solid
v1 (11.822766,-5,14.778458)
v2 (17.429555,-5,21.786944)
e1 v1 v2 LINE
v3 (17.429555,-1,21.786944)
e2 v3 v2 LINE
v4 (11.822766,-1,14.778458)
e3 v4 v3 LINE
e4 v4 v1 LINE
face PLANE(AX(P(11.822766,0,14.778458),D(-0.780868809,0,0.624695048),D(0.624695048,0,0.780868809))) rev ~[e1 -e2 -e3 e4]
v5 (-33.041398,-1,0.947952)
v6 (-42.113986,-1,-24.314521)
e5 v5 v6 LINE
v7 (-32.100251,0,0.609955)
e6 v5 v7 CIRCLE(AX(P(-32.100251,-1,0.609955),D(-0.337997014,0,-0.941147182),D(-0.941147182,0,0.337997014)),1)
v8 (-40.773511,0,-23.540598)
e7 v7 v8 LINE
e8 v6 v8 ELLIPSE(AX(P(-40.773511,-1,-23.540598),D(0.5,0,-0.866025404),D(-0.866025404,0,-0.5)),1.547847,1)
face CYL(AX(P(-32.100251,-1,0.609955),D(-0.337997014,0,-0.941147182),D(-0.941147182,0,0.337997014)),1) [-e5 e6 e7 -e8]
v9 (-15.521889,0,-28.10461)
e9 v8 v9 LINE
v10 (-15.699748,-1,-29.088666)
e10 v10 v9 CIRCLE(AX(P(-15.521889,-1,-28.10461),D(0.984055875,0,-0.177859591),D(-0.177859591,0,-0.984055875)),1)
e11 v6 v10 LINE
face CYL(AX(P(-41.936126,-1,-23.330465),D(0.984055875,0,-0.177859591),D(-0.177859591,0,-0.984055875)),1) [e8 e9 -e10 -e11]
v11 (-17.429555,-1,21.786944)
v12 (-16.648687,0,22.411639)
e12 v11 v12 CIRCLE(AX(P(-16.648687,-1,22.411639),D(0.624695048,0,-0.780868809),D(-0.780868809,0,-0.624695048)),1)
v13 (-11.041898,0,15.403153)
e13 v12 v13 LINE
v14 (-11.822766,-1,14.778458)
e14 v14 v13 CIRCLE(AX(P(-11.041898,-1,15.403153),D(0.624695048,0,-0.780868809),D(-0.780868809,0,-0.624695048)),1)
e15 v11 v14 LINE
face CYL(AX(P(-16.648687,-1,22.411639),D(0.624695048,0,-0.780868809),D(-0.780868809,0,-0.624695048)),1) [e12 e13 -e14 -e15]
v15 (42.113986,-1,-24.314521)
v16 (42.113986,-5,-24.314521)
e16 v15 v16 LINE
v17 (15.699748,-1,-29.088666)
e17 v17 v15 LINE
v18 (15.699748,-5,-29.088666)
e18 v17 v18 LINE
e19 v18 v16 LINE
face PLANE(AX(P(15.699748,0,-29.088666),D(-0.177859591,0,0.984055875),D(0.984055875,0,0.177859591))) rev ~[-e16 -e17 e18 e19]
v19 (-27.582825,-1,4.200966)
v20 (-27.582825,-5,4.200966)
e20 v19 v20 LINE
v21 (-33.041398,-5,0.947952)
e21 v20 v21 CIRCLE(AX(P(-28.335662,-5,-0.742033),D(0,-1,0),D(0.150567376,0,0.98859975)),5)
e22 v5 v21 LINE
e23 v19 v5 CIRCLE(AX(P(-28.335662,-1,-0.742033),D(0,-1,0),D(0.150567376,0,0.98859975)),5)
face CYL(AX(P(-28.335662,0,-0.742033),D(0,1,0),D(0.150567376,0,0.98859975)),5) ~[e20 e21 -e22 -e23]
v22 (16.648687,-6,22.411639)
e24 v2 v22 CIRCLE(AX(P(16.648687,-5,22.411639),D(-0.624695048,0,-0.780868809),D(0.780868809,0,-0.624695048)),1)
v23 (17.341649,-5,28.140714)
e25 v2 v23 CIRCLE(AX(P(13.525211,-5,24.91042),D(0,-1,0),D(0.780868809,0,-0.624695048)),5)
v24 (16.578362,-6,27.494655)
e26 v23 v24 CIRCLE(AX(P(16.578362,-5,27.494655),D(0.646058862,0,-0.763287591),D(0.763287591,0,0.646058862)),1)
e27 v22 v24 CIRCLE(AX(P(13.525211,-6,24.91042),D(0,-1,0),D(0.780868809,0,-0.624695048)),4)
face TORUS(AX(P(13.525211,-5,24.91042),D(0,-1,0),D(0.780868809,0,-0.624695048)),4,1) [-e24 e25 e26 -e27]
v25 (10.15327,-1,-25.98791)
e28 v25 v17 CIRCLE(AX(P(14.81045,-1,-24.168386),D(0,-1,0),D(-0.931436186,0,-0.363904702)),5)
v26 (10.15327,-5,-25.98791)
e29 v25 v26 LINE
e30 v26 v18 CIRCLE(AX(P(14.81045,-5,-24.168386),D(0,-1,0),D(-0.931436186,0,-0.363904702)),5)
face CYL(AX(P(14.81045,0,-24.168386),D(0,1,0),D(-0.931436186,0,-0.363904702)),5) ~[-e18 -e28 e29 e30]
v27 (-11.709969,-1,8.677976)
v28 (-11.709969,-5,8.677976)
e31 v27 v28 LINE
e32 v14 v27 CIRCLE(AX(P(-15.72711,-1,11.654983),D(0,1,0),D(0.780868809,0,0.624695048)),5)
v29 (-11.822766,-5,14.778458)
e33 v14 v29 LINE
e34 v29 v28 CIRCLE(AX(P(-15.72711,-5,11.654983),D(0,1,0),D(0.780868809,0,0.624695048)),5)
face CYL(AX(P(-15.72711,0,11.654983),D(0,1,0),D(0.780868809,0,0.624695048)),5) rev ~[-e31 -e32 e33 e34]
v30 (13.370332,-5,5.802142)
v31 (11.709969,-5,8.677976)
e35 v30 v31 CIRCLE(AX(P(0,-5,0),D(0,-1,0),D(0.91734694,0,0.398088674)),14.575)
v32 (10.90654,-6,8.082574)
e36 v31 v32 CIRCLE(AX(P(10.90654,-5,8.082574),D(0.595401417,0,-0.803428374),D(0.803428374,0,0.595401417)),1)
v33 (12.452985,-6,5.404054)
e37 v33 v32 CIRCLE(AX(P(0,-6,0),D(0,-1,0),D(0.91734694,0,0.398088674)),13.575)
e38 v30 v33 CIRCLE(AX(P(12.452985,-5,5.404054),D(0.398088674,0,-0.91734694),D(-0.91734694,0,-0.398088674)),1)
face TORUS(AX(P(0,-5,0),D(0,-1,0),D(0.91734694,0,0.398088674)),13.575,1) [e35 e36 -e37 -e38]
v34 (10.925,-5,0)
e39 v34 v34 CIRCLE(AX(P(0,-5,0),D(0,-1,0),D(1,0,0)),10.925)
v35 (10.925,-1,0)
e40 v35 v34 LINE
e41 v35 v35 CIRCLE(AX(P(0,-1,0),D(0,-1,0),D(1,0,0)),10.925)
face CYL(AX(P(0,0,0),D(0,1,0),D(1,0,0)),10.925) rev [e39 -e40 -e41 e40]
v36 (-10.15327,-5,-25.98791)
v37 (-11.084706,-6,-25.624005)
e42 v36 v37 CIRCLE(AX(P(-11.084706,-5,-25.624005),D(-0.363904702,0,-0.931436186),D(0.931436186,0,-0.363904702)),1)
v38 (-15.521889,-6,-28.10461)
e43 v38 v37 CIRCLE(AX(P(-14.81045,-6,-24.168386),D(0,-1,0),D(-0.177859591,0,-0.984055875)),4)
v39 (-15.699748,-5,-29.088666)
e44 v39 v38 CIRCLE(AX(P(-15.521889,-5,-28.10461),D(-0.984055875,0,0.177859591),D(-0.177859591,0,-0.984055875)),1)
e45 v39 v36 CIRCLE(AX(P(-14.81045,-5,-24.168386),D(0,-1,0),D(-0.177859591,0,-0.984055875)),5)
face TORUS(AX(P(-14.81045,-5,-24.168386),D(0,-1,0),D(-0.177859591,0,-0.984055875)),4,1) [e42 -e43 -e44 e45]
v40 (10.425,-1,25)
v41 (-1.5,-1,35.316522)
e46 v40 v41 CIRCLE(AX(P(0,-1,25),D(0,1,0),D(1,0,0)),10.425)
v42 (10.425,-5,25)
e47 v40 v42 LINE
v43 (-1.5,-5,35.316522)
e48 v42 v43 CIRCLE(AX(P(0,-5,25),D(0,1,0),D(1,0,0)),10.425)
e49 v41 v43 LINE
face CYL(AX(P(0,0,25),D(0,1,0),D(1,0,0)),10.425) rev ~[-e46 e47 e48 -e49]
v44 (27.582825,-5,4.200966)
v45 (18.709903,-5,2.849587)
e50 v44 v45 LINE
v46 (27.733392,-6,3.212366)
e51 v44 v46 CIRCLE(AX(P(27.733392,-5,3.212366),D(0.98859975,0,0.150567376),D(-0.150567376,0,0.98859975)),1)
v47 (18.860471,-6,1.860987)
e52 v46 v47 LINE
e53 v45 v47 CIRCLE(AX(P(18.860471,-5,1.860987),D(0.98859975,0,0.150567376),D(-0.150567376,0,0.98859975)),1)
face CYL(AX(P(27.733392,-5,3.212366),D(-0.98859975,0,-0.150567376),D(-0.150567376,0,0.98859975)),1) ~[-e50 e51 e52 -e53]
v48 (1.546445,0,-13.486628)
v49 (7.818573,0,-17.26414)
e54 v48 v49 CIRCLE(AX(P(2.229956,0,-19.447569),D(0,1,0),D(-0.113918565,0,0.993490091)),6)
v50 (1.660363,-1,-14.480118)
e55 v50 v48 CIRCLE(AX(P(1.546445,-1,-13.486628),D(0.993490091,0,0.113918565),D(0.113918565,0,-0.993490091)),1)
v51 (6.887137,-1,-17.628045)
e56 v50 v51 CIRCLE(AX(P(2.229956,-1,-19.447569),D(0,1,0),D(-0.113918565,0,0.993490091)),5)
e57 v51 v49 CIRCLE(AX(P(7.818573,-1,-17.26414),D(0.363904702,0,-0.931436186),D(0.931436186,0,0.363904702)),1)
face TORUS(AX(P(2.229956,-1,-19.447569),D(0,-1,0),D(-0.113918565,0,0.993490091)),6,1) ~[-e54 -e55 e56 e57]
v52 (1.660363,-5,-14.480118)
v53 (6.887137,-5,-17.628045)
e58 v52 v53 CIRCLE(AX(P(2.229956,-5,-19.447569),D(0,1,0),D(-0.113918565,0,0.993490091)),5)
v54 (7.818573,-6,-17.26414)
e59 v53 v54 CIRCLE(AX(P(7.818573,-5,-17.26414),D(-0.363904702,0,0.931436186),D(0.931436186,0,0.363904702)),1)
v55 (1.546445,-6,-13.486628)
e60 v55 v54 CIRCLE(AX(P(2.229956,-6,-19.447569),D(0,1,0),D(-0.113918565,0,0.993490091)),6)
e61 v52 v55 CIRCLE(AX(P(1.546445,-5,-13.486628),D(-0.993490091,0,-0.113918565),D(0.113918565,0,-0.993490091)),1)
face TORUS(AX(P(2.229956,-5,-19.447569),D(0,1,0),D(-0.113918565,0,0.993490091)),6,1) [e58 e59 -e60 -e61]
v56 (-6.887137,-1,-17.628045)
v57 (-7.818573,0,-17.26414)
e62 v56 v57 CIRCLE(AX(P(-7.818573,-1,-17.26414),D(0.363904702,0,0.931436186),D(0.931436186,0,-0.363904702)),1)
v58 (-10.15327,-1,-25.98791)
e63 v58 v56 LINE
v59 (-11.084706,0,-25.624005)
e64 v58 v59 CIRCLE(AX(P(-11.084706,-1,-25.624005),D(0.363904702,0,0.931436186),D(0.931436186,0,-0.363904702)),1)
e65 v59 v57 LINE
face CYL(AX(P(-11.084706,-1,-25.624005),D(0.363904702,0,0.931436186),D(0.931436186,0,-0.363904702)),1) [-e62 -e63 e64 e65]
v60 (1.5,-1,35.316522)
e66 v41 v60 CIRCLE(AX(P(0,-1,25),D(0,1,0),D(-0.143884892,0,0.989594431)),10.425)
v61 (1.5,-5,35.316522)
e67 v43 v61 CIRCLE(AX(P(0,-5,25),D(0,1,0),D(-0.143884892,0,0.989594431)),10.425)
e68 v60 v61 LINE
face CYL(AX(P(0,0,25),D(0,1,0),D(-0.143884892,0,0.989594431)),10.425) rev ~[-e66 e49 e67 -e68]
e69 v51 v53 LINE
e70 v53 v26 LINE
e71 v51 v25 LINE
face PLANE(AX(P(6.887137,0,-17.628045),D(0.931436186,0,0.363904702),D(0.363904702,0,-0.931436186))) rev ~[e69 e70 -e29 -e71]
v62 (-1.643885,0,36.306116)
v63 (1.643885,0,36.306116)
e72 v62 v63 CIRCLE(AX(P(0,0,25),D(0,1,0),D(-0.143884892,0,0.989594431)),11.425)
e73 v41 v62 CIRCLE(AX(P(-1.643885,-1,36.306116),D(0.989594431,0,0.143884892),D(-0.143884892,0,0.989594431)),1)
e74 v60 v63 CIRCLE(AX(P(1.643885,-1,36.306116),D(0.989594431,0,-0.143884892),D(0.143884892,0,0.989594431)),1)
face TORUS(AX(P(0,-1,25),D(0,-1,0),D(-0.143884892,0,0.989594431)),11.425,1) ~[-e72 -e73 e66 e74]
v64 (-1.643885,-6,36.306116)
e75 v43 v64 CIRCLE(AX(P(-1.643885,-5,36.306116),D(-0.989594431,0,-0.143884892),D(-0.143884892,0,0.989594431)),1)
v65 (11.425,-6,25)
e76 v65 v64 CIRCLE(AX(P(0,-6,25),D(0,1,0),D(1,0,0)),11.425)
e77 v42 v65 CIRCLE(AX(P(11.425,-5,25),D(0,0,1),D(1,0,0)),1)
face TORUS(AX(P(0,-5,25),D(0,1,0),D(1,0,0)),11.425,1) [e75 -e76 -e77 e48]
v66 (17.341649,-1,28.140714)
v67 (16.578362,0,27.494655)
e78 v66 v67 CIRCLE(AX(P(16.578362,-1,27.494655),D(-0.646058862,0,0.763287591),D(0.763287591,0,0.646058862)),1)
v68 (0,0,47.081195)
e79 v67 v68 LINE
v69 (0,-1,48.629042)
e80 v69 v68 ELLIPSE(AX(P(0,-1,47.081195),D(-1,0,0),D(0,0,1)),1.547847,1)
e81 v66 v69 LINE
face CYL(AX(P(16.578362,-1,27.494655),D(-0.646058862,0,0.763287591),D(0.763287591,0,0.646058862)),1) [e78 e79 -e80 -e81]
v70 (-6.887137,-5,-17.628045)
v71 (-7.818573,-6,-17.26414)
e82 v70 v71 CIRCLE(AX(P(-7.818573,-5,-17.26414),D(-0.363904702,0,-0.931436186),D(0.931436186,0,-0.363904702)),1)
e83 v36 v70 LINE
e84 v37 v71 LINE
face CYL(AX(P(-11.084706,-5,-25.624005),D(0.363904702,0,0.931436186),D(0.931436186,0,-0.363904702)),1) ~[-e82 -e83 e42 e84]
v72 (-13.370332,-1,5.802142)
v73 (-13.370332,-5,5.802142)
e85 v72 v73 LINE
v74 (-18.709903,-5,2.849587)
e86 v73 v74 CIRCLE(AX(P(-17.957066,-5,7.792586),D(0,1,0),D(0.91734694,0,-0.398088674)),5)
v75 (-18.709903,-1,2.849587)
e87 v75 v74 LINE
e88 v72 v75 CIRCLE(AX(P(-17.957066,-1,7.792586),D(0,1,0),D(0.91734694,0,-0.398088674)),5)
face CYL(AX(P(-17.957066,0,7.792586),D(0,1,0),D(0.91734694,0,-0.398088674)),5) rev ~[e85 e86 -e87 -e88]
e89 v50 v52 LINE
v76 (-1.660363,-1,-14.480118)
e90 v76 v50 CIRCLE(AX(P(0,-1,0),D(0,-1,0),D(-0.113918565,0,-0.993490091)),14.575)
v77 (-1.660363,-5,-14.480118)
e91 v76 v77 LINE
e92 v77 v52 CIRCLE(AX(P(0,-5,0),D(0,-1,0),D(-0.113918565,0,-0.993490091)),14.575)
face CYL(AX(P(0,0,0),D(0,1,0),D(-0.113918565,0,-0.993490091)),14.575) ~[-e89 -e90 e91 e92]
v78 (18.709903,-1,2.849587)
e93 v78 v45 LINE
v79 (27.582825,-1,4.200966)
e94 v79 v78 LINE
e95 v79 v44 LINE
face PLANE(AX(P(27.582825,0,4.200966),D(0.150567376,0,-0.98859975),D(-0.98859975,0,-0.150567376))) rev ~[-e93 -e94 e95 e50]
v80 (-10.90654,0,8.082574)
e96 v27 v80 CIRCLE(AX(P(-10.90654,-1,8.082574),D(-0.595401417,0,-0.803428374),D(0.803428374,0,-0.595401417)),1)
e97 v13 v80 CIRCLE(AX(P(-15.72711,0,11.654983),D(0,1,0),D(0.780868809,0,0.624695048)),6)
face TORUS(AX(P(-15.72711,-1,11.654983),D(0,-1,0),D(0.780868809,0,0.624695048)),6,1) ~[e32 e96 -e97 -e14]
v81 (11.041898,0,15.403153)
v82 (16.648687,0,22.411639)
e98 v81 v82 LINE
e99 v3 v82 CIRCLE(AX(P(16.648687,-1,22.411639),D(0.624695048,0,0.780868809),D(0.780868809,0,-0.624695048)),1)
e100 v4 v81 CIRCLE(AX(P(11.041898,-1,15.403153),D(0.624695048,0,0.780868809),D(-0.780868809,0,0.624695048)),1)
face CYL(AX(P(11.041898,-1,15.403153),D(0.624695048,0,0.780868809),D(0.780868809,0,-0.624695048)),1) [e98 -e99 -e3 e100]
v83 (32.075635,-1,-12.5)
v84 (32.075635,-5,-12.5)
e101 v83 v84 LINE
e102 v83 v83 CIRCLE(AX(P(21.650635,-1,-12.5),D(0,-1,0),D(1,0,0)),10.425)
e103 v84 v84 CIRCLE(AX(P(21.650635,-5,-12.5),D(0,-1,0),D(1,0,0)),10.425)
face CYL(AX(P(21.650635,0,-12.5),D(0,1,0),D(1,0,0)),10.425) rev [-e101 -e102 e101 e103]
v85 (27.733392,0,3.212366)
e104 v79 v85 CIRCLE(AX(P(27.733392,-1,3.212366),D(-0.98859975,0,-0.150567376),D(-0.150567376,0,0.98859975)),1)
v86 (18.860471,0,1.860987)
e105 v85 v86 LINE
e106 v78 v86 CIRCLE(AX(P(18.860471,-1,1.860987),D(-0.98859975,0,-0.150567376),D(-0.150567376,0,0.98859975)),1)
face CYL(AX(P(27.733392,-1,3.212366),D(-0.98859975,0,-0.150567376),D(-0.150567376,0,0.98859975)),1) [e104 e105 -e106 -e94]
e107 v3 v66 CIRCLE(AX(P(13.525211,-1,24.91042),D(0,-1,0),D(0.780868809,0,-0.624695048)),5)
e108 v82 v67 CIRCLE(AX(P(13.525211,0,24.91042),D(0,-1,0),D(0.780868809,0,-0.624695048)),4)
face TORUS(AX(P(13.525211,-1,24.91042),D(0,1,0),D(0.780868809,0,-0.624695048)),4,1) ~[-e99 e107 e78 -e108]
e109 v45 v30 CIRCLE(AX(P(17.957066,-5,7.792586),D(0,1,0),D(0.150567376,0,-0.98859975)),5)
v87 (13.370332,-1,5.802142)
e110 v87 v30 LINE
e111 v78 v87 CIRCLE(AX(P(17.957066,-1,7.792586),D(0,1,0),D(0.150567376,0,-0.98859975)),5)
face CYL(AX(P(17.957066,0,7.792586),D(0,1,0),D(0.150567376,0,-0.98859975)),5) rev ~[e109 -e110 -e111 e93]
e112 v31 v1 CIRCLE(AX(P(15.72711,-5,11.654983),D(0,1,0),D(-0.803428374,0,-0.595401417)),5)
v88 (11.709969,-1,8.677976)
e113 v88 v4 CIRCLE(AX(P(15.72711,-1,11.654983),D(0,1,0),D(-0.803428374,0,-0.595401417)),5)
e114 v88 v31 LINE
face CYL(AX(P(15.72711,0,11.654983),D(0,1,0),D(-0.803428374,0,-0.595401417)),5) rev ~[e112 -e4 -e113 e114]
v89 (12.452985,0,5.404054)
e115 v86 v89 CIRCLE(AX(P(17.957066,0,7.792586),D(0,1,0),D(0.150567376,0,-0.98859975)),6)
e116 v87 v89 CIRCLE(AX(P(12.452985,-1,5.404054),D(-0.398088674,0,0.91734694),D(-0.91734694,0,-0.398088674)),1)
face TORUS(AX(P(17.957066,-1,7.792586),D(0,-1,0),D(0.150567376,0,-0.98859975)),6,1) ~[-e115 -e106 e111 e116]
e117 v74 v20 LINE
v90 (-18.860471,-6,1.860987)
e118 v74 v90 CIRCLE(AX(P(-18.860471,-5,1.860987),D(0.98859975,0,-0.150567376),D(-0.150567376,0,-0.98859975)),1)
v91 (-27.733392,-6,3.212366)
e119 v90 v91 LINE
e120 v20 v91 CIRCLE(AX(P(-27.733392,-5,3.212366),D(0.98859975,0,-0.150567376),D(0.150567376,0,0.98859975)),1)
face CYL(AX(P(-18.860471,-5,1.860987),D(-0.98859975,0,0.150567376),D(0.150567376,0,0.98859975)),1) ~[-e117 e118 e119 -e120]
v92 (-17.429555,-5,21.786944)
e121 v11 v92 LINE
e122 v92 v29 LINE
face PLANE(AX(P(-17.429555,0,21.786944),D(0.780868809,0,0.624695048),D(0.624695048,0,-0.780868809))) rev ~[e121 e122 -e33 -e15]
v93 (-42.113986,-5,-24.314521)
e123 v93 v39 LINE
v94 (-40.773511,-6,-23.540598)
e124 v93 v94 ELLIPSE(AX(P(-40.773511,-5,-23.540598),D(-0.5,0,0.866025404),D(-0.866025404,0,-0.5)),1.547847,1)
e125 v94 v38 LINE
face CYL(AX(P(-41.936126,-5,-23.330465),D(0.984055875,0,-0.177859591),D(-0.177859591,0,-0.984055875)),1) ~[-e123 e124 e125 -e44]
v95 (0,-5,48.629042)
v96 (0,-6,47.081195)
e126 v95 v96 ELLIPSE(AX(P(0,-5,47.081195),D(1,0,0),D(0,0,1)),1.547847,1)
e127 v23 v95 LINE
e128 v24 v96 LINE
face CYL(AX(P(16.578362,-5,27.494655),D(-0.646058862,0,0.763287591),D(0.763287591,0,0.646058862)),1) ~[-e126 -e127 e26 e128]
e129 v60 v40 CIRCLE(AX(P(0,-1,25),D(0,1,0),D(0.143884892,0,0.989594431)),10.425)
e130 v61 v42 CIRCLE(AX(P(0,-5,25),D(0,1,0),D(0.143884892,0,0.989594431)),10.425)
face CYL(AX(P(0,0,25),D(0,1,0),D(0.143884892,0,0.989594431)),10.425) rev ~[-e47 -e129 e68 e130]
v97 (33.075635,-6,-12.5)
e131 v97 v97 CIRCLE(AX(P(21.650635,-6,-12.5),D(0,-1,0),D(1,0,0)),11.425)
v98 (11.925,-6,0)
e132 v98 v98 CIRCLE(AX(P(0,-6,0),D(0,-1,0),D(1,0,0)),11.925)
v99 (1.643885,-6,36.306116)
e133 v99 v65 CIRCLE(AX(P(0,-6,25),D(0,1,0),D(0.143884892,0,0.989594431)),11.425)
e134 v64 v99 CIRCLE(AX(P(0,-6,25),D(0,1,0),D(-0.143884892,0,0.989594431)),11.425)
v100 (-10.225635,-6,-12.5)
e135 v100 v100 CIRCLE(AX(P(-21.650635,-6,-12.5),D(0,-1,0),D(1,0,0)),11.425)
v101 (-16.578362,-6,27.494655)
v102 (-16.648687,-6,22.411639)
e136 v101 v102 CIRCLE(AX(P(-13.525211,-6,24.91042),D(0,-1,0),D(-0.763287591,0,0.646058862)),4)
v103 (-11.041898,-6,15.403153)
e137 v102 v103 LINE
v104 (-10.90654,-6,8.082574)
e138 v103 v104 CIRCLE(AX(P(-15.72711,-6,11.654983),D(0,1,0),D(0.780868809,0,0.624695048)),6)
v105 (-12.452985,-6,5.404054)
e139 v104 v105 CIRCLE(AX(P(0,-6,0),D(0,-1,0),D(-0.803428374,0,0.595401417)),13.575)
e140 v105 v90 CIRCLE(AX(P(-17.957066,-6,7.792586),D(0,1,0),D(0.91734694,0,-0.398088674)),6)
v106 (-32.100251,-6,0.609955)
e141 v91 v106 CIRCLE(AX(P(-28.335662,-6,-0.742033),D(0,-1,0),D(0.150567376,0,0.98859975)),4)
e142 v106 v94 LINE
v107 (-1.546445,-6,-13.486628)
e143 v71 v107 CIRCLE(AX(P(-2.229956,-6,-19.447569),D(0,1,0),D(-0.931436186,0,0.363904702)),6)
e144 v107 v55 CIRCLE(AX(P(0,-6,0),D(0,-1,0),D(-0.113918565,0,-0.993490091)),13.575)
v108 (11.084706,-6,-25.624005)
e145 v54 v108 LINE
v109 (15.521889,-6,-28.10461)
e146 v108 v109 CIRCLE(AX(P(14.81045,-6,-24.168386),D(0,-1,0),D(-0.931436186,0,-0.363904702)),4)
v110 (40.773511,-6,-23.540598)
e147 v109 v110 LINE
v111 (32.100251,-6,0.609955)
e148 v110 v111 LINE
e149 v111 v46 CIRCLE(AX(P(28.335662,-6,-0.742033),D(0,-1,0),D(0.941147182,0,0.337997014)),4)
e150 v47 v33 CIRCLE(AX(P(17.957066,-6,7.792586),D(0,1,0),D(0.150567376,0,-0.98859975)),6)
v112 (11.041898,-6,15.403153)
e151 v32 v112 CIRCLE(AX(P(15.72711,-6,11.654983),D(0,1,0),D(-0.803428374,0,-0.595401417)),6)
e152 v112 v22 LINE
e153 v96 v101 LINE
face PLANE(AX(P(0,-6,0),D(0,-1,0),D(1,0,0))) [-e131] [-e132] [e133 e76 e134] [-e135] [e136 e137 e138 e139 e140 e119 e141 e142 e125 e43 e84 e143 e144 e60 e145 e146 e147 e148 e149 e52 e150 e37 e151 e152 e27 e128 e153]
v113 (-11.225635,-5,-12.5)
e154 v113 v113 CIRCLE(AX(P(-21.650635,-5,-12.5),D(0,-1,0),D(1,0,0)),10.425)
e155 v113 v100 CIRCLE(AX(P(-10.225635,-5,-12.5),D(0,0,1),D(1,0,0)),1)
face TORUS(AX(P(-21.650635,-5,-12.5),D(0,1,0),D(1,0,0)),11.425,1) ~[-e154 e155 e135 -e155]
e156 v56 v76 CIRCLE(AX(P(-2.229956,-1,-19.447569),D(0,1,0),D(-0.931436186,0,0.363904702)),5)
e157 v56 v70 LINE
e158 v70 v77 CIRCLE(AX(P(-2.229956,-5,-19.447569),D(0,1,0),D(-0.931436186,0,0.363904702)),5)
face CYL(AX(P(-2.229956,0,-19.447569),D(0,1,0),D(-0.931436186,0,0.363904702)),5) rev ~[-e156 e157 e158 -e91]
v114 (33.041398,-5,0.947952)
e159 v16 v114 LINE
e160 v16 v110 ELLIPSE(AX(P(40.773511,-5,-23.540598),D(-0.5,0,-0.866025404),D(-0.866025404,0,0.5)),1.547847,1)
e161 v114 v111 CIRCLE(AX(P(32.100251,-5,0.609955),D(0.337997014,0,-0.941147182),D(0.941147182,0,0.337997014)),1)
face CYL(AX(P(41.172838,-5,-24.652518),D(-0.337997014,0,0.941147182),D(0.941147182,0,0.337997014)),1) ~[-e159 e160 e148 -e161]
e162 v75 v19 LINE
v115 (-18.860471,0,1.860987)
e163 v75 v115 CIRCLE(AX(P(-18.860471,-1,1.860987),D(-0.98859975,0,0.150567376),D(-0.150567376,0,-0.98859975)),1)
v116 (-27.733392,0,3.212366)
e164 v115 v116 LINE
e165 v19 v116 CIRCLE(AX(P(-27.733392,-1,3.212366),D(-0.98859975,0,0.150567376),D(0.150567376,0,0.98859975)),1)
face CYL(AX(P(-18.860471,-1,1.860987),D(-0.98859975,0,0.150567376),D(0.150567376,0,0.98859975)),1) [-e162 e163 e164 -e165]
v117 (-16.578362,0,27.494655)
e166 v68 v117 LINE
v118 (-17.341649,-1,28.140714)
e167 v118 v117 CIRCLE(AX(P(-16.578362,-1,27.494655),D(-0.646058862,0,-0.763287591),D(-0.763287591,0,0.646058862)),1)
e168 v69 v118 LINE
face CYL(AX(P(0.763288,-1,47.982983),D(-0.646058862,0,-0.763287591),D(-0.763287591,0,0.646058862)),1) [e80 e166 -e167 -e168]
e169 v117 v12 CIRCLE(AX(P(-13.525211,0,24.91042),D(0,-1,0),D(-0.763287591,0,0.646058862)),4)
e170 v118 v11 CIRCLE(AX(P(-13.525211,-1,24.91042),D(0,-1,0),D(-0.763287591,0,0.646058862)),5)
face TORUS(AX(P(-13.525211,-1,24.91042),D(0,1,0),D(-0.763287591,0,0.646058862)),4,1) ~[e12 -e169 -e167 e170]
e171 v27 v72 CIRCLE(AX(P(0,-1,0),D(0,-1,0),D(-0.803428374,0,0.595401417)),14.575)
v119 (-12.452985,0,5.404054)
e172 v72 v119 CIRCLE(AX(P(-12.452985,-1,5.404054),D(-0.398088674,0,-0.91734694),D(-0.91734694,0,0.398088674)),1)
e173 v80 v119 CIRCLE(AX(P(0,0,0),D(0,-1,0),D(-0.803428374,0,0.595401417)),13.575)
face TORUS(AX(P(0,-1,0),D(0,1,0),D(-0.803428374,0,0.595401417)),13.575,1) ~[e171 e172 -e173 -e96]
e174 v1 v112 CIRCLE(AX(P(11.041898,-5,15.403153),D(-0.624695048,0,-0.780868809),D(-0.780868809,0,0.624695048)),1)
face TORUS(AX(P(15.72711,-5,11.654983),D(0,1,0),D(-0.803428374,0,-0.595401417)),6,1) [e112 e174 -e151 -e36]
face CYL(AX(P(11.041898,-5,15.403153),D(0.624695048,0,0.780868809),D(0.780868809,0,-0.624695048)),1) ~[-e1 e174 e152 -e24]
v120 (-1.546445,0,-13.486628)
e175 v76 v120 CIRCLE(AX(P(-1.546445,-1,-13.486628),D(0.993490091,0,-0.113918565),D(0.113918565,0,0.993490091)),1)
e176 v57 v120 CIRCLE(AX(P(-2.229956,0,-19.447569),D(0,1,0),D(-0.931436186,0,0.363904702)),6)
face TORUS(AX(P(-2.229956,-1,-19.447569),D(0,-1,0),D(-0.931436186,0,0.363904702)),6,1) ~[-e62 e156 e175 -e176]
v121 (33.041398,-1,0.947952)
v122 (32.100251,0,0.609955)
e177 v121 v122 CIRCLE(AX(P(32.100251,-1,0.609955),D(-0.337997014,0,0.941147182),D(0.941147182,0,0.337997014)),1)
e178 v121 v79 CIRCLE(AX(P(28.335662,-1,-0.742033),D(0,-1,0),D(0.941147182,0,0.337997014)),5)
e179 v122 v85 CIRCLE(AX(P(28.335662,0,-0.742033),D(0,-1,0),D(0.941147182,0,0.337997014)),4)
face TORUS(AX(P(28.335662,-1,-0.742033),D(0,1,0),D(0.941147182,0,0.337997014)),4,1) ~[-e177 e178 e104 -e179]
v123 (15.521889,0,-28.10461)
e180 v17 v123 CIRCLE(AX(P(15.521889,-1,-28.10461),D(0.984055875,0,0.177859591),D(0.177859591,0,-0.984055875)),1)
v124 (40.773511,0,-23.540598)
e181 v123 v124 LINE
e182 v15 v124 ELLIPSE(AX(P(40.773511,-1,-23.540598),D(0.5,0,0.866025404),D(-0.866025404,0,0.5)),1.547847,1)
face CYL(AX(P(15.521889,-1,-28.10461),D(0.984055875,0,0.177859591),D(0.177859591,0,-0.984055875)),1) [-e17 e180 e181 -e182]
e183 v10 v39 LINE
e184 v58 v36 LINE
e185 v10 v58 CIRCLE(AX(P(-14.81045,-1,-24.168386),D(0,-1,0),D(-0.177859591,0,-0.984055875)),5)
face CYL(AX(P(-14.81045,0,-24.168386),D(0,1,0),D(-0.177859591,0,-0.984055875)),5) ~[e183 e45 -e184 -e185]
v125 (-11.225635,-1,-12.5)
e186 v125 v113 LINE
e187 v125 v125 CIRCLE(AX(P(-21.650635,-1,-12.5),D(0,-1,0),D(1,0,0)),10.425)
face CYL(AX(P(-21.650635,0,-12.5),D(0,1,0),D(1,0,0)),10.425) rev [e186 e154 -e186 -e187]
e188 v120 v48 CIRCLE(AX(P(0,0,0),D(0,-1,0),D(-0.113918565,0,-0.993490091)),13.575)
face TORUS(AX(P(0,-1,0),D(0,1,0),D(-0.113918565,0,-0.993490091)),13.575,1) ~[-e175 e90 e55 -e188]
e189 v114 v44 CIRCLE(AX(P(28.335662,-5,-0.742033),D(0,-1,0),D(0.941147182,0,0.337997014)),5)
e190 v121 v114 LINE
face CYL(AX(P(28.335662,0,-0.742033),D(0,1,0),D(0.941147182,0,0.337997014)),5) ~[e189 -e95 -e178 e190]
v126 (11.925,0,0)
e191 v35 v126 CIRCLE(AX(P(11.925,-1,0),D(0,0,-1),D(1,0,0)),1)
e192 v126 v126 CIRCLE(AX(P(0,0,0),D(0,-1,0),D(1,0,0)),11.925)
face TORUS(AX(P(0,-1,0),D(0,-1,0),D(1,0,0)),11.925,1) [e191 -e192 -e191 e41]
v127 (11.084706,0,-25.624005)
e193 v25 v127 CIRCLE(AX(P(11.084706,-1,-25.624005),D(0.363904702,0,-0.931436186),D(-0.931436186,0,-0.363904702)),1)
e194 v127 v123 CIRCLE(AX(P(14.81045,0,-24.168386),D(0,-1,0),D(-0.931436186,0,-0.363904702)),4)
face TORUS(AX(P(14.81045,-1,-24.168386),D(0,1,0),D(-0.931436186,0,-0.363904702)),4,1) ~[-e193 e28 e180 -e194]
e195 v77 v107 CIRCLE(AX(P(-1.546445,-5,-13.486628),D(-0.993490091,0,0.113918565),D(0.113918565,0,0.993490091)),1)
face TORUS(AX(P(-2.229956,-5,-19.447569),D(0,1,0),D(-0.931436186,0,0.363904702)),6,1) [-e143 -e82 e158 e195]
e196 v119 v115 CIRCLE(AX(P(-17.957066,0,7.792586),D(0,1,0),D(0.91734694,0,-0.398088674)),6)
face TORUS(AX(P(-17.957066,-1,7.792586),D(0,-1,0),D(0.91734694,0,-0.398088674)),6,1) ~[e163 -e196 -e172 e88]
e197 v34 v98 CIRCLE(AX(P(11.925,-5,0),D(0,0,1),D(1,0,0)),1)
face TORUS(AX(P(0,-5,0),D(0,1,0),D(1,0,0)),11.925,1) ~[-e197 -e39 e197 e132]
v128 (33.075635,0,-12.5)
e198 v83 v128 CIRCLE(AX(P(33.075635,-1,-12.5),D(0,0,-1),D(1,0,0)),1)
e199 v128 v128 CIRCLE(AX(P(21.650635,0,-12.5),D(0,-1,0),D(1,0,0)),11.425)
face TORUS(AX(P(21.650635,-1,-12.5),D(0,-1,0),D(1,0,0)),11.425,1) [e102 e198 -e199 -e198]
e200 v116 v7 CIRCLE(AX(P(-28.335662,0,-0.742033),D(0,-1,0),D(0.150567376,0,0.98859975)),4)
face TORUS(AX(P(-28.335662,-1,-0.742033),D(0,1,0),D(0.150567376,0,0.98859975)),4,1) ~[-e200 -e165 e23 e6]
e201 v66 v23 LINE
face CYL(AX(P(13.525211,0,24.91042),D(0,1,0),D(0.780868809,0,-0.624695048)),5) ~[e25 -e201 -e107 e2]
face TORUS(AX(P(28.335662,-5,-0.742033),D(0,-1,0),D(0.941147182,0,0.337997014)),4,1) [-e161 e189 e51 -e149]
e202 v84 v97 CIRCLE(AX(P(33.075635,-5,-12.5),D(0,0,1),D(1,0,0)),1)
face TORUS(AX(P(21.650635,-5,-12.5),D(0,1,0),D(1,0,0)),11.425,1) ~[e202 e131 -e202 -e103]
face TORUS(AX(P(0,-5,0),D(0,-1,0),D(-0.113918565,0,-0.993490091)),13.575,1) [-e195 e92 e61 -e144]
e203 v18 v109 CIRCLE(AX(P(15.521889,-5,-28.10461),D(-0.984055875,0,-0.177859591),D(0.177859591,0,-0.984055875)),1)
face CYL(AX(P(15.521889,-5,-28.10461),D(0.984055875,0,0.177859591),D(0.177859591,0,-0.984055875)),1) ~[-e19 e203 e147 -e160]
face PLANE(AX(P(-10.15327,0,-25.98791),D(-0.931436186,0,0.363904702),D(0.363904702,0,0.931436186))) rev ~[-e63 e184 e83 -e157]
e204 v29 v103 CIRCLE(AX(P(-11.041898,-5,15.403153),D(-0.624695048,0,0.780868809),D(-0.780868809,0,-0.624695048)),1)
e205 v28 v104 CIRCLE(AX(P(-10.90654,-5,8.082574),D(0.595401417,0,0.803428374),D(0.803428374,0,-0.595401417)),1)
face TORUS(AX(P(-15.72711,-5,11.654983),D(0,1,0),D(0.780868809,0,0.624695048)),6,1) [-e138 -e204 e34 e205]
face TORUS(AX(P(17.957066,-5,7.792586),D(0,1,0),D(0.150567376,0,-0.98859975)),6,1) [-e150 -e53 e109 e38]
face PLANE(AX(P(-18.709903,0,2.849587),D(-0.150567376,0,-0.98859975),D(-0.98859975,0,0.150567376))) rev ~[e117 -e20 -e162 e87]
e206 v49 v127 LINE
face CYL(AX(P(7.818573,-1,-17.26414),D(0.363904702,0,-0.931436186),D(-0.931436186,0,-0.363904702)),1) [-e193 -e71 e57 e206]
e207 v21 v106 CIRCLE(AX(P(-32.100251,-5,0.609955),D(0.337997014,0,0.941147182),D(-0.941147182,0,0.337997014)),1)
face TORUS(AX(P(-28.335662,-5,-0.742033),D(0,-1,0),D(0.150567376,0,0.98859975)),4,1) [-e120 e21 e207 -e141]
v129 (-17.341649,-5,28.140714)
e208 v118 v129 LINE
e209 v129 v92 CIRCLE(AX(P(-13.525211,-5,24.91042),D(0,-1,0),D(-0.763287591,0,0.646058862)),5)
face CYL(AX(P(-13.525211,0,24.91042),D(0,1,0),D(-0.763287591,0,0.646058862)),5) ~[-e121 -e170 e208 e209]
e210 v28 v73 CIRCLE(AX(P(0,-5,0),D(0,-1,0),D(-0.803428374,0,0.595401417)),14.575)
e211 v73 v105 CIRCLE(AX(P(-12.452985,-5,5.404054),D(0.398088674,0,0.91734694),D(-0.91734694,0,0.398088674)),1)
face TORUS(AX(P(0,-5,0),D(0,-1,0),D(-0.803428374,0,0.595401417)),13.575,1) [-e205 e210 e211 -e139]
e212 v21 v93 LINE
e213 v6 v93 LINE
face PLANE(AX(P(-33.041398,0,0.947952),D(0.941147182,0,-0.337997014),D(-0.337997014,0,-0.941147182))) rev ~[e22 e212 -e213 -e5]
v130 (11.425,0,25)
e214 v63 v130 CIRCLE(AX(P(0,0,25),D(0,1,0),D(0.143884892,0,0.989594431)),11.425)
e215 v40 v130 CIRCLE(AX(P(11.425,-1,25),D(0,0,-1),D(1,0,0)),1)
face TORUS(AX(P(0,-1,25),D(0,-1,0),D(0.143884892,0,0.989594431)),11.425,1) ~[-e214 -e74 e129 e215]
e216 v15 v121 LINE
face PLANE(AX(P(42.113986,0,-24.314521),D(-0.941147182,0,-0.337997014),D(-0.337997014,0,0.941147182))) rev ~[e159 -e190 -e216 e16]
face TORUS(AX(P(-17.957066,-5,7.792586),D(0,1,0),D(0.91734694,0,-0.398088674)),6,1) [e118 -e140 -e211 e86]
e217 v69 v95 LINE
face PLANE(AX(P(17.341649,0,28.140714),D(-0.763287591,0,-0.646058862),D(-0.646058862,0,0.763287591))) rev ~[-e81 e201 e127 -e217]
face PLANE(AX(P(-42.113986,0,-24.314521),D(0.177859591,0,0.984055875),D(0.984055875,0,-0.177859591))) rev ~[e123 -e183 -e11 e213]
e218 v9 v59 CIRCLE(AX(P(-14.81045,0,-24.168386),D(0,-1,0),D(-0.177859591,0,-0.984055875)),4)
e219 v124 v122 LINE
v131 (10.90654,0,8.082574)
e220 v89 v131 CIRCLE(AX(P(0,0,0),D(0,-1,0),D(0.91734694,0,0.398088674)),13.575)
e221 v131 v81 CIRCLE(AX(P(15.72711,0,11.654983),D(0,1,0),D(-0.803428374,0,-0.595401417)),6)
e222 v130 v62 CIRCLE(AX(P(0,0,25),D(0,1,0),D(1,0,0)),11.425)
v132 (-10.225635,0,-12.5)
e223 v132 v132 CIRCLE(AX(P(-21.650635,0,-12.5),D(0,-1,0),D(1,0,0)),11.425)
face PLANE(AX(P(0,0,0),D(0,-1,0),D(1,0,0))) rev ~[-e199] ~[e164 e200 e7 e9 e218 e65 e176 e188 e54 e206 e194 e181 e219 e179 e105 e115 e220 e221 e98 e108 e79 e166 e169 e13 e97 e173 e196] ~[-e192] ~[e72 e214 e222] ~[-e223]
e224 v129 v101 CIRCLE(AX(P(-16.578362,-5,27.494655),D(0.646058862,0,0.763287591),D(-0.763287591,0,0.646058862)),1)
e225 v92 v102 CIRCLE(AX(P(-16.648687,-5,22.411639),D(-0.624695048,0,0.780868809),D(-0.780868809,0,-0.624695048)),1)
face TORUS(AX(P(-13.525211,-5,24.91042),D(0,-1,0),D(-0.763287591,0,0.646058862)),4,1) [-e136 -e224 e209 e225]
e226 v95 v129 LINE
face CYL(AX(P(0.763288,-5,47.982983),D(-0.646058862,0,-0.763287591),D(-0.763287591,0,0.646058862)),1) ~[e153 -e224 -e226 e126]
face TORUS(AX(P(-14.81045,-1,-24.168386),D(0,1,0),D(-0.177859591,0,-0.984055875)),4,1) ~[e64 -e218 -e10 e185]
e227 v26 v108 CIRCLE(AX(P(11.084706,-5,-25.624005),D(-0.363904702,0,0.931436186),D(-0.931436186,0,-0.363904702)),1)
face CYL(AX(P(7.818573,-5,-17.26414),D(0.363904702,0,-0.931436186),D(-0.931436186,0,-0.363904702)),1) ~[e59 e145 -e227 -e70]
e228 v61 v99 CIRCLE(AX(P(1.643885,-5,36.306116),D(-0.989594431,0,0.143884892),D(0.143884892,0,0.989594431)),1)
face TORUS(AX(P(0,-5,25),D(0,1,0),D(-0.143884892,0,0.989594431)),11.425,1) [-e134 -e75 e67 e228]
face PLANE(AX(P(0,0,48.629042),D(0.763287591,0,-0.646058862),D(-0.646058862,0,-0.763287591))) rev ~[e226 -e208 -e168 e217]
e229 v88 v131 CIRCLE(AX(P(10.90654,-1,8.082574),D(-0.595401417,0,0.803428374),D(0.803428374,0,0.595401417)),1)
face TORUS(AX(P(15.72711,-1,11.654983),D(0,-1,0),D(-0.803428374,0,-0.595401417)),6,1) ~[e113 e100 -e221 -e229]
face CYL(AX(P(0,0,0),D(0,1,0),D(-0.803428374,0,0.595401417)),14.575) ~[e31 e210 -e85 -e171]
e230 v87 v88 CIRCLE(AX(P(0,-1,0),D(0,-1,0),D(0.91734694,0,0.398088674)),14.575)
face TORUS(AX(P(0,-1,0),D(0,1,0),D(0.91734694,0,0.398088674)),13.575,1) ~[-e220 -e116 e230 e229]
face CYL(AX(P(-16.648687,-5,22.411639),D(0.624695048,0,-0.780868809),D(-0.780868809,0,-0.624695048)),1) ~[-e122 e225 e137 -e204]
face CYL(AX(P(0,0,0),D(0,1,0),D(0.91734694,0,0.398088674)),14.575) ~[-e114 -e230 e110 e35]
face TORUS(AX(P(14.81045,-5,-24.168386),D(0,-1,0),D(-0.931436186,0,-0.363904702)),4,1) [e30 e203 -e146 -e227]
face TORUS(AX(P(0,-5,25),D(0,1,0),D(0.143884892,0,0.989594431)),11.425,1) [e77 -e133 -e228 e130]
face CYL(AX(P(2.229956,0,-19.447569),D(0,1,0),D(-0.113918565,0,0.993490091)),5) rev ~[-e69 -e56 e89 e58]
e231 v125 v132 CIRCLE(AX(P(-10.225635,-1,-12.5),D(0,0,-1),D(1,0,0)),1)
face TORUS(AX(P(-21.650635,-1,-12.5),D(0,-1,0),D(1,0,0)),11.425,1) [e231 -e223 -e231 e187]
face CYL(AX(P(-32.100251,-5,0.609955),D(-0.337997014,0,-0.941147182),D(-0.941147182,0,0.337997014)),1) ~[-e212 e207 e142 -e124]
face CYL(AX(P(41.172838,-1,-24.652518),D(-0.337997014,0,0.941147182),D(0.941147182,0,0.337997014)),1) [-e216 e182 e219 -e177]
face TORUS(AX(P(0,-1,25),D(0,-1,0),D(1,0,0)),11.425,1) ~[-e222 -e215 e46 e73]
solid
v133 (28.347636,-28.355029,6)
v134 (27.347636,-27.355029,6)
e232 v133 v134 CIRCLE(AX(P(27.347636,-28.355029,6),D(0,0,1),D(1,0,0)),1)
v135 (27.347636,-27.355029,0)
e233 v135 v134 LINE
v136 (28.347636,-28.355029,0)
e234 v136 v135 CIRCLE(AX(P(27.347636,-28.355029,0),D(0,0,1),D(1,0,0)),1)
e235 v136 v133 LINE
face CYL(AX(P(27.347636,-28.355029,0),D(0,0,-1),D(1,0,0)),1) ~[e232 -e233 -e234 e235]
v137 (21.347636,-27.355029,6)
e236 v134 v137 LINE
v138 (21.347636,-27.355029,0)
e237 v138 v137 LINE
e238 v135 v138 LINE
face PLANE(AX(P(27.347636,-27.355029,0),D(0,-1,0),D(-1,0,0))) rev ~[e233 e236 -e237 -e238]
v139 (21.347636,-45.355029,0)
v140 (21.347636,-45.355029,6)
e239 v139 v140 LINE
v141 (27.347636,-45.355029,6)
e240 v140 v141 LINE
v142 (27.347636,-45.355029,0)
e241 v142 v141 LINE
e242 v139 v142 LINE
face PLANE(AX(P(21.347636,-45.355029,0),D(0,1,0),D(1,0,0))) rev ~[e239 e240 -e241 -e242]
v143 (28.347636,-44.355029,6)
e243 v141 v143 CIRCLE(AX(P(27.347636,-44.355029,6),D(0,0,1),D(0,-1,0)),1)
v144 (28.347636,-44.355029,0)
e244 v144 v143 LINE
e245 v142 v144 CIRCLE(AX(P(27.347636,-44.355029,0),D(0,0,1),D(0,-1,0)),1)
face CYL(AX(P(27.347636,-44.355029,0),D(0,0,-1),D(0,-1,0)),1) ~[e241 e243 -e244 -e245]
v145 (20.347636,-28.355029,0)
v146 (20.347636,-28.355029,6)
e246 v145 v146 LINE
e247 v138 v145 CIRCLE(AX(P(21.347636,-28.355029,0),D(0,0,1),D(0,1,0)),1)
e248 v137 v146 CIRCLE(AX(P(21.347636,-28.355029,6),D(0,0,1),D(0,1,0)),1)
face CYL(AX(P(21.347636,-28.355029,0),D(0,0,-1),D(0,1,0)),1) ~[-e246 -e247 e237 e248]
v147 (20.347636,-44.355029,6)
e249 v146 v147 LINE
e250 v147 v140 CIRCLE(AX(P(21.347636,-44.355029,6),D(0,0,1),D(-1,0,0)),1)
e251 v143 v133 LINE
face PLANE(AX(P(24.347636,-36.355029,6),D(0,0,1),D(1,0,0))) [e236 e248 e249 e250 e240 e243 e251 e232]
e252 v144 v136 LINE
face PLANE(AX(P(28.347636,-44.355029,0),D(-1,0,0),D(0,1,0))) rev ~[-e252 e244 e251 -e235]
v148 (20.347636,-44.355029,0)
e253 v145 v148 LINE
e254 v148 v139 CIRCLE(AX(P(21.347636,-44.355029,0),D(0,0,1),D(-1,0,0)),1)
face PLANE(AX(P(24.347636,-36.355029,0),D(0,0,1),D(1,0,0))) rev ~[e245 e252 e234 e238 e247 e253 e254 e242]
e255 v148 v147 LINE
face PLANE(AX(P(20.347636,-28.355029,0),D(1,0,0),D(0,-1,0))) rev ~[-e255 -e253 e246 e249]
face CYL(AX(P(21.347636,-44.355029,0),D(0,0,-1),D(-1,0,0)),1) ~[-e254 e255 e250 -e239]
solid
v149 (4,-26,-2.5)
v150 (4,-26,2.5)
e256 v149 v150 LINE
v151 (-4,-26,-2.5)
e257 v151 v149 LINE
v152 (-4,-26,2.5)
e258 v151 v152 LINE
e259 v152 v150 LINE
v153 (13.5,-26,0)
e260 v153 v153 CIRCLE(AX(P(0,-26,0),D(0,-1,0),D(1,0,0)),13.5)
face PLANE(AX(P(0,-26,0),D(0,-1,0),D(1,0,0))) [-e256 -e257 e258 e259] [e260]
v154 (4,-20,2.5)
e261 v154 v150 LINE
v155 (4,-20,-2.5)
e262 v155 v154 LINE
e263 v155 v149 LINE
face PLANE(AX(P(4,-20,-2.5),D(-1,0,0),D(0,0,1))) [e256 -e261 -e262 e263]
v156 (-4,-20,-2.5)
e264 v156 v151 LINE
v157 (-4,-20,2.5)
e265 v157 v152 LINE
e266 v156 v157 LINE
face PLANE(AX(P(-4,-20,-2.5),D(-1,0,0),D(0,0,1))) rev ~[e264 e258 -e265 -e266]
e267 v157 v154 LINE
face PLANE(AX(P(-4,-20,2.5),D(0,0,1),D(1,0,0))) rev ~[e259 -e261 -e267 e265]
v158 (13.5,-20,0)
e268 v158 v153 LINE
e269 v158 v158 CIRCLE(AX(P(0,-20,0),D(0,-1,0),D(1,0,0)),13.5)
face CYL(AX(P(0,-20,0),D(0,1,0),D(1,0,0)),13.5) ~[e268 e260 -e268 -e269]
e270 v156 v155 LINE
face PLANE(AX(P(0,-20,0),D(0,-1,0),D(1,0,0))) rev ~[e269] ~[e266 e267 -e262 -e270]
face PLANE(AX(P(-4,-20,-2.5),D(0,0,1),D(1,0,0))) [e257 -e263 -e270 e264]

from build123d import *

# Parameters (mm, degrees)
F0_R     = 10.425
F0_R_2   = 10.925
F1_DEPTH = 6
F2_R     = 1
F4_DEPTH = 6
F6_START = 20
F5_R     = 13.5
F5_W     = 8
F5_H     = 5
F6_DEPTH = 6


with BuildPart() as f1:
    # F0 (on Front) → F1 (new body)
    with BuildSketch(Plane.XZ):
        with BuildLine():
            ThreePointArc((17.4295554729, 21.7869443412), (18.524732958, 24.9795892883), (17.3416493823, 28.1407138881))
            Line((17.3416493823, 28.1407138881), (0, 48.6290417612))
            Line((0, 48.6290417612), (-17.3416493823, 28.1407138881))
            ThreePointArc((-17.3416493823, 28.1407138881), (-18.524732958, 24.9795892883), (-17.4295554729, 21.7869443412))
            Line((-17.4295554729, 21.7869443412), (-11.8227663801, 14.7784579751))
            ThreePointArc((-11.8227663801, 14.7784579751), (-10.727964907, 11.7474168612), (-11.7099685557, 8.6779756524))
            ThreePointArc((-11.7099685557, 8.6779756524), (-12.6223202602, 7.2875), (-13.3703316463, 5.8021424205))
            ThreePointArc((-13.3703316463, 5.8021424205), (-15.5375438841, 3.4169817098), (-18.7099032252, 2.8495870406))
            Line((-18.7099032252, 2.8495870406), (-27.5828250068, 4.2009656456))
            ThreePointArc((-27.5828250068, 4.2009656456), (-30.8953253788, 3.5530946958), (-33.0413977989, 0.9479519645))
            Line((-33.0413977989, 0.9479519645), (-42.1139855269, -24.3145208806))
            Line((-42.1139855269, -24.3145208806), (-15.6997484166, -29.0886658526))
            ThreePointArc((-15.6997484166, -29.0886658526), (-12.3705924208, -28.5326839841), (-10.1532695338, -25.9879099868))
            Line((-10.1532695338, -25.9879099868), (-6.8871368452, -17.6280450157))
            ThreePointArc((-6.8871368452, -17.6280450157), (-4.8095789771, -15.164398571), (-1.6603630906, -14.480118073))
            ThreePointArc((-1.6603630906, -14.480118073), (0, -14.575), (1.6603630906, -14.480118073))
            ThreePointArc((1.6603630906, -14.480118073), (4.8095789771, -15.164398571), (6.8871368452, -17.6280450157))
            Line((6.8871368452, -17.6280450157), (10.1532695338, -25.9879099868))
            ThreePointArc((10.1532695338, -25.9879099868), (12.3705924208, -28.5326839841), (15.6997484166, -29.0886658526))
            Line((15.6997484166, -29.0886658526), (42.1139855269, -24.3145208806))
            Line((42.1139855269, -24.3145208806), (33.0413977989, 0.9479519645))
            ThreePointArc((33.0413977989, 0.9479519645), (30.8953253788, 3.5530946958), (27.5828250068, 4.2009656456))
            Line((27.5828250068, 4.2009656456), (18.7099032252, 2.8495870406))
            ThreePointArc((18.7099032252, 2.8495870406), (15.5375438841, 3.4169817098), (13.3703316463, 5.8021424205))
            ThreePointArc((13.3703316463, 5.8021424205), (12.6223202602, 7.2875), (11.7099685557, 8.6779756524))
            ThreePointArc((11.7099685557, 8.6779756524), (10.727964907, 11.7474168612), (11.8227663801, 14.7784579751))
            Line((11.8227663801, 14.7784579751), (17.4295554729, 21.7869443412))
        make_face()
        with Locations((-21.6506350946, -12.5)):
            Circle(F0_R, mode=Mode.SUBTRACT)
        with Locations((21.6506350946, -12.5)):
            Circle(F0_R, mode=Mode.SUBTRACT)
        Circle(F0_R_2, mode=Mode.SUBTRACT)
        with BuildLine():
            ThreePointArc((10.425, 25), (-6.8206717045, 17.1158981171), (-1.5, 35.316521943))
            ThreePointArc((-1.5, 35.316521943), (0, 35.425), (1.5, 35.316521943))
            ThreePointArc((1.5, 35.316521943), (7.8841018829, 31.8206717045), (10.425, 25))
        make_face(mode=Mode.SUBTRACT)
    extrude(amount=F1_DEPTH)

    # F2
    f2_edges = [f1.edges().sort_by_distance(p)[0] for p in [
        (30.895325, -6, 3.553095),
        (23.146364, -6, 3.525276),
        (15.537544, -6, 3.416982),
        (12.62232, -6, 7.2875),
        (10.727965, -6, 11.747417),
        (14.626161, -6, 18.282701),
        (18.524733, -6, 24.979589),
        (8.670825, -6, 38.384878),
        (-8.670825, -6, 38.384878),
        (-18.524733, -6, 24.979589),
        (-14.626161, -6, 18.282701),
        (-10.727965, -6, 11.747417),
        (-12.62232, -6, 7.2875),
        (-15.537544, -6, 3.416982),
        (-23.146364, -6, 3.525276),
        (-30.895325, -6, 3.553095),
        (-37.577692, -6, -11.683284),
        (-28.906867, -6, -26.701593),
        (-12.370592, -6, -28.532684),
        (-8.520203, -6, -21.807978),
        (-4.809579, -6, -15.164399),
        (0, -6, -14.575),
        (4.809579, -6, -15.164399),
        (8.520203, -6, -21.807978),
        (12.370592, -6, -28.532684),
        (28.906867, -6, -26.701593),
        (37.577692, -6, -11.683284),
        (-32.075635, -6, -12.5),
        (11.225635, -6, -12.5),
        (-10.925, -6, 0),
        (1.5, -6, 14.683478),
        (30.895325, 0, 3.553095),
        (23.146364, 0, 3.525276),
        (15.537544, 0, 3.416982),
        (12.62232, 0, 7.2875),
        (10.727965, 0, 11.747417),
        (14.626161, 0, 18.282701),
        (18.524733, 0, 24.979589),
        (8.670825, 0, 38.384878),
        (-8.670825, 0, 38.384878),
        (-18.524733, 0, 24.979589),
        (-14.626161, 0, 18.282701),
        (-10.727965, 0, 11.747417),
        (-12.62232, 0, 7.2875),
        (-15.537544, 0, 3.416982),
        (-23.146364, 0, 3.525276),
        (-30.895325, 0, 3.553095),
        (-37.577692, 0, -11.683284),
        (-28.906867, 0, -26.701593),
        (-12.370592, 0, -28.532684),
        (-8.520203, 0, -21.807978),
        (-4.809579, 0, -15.164399),
        (0, 0, -14.575),
        (4.809579, 0, -15.164399),
        (8.520203, 0, -21.807978),
        (12.370592, 0, -28.532684),
        (28.906867, 0, -26.701593),
        (37.577692, 0, -11.683284),
        (-32.075635, 0, -12.5),
        (11.225635, 0, -12.5),
        (-10.925, 0, 0),
        (1.5, 0, 14.683478),
    ]]
    fillet(f2_edges, radius=F2_R)


with BuildPart() as f4:
    # F3 (on Top) → F4 (new body)
    with BuildSketch(Plane.XY):
        with BuildLine():
            Line((27.347636193, -27.3550294042), (21.347636193, -27.3550294042))
            ThreePointArc((21.347636193, -27.3550294042), (20.6405294119, -27.647922623), (20.347636193, -28.3550294042))
            Line((20.347636193, -28.3550294042), (20.347636193, -44.3550294042))
            ThreePointArc((20.347636193, -44.3550294042), (20.6405294119, -45.0621361853), (21.347636193, -45.3550294042))
            Line((21.347636193, -45.3550294042), (27.347636193, -45.3550294042))
            ThreePointArc((27.347636193, -45.3550294042), (28.0547429742, -45.0621361853), (28.347636193, -44.3550294042))
            Line((28.347636193, -44.3550294042), (28.347636193, -28.3550294042))
            ThreePointArc((28.347636193, -28.3550294042), (28.0547429742, -27.647922623), (27.347636193, -27.3550294042))
        make_face()
    extrude(amount=F4_DEPTH)


with BuildPart() as f6:
    # F5 (on Front) → F6 (new body)
    with BuildSketch(Plane.XZ.offset(F6_START)):
        Circle(F5_R)
        Rectangle(F5_W, F5_H, mode=Mode.SUBTRACT)
    extrude(amount=F6_DEPTH)


solid = Compound([f1.part, f4.part, f6.part])
